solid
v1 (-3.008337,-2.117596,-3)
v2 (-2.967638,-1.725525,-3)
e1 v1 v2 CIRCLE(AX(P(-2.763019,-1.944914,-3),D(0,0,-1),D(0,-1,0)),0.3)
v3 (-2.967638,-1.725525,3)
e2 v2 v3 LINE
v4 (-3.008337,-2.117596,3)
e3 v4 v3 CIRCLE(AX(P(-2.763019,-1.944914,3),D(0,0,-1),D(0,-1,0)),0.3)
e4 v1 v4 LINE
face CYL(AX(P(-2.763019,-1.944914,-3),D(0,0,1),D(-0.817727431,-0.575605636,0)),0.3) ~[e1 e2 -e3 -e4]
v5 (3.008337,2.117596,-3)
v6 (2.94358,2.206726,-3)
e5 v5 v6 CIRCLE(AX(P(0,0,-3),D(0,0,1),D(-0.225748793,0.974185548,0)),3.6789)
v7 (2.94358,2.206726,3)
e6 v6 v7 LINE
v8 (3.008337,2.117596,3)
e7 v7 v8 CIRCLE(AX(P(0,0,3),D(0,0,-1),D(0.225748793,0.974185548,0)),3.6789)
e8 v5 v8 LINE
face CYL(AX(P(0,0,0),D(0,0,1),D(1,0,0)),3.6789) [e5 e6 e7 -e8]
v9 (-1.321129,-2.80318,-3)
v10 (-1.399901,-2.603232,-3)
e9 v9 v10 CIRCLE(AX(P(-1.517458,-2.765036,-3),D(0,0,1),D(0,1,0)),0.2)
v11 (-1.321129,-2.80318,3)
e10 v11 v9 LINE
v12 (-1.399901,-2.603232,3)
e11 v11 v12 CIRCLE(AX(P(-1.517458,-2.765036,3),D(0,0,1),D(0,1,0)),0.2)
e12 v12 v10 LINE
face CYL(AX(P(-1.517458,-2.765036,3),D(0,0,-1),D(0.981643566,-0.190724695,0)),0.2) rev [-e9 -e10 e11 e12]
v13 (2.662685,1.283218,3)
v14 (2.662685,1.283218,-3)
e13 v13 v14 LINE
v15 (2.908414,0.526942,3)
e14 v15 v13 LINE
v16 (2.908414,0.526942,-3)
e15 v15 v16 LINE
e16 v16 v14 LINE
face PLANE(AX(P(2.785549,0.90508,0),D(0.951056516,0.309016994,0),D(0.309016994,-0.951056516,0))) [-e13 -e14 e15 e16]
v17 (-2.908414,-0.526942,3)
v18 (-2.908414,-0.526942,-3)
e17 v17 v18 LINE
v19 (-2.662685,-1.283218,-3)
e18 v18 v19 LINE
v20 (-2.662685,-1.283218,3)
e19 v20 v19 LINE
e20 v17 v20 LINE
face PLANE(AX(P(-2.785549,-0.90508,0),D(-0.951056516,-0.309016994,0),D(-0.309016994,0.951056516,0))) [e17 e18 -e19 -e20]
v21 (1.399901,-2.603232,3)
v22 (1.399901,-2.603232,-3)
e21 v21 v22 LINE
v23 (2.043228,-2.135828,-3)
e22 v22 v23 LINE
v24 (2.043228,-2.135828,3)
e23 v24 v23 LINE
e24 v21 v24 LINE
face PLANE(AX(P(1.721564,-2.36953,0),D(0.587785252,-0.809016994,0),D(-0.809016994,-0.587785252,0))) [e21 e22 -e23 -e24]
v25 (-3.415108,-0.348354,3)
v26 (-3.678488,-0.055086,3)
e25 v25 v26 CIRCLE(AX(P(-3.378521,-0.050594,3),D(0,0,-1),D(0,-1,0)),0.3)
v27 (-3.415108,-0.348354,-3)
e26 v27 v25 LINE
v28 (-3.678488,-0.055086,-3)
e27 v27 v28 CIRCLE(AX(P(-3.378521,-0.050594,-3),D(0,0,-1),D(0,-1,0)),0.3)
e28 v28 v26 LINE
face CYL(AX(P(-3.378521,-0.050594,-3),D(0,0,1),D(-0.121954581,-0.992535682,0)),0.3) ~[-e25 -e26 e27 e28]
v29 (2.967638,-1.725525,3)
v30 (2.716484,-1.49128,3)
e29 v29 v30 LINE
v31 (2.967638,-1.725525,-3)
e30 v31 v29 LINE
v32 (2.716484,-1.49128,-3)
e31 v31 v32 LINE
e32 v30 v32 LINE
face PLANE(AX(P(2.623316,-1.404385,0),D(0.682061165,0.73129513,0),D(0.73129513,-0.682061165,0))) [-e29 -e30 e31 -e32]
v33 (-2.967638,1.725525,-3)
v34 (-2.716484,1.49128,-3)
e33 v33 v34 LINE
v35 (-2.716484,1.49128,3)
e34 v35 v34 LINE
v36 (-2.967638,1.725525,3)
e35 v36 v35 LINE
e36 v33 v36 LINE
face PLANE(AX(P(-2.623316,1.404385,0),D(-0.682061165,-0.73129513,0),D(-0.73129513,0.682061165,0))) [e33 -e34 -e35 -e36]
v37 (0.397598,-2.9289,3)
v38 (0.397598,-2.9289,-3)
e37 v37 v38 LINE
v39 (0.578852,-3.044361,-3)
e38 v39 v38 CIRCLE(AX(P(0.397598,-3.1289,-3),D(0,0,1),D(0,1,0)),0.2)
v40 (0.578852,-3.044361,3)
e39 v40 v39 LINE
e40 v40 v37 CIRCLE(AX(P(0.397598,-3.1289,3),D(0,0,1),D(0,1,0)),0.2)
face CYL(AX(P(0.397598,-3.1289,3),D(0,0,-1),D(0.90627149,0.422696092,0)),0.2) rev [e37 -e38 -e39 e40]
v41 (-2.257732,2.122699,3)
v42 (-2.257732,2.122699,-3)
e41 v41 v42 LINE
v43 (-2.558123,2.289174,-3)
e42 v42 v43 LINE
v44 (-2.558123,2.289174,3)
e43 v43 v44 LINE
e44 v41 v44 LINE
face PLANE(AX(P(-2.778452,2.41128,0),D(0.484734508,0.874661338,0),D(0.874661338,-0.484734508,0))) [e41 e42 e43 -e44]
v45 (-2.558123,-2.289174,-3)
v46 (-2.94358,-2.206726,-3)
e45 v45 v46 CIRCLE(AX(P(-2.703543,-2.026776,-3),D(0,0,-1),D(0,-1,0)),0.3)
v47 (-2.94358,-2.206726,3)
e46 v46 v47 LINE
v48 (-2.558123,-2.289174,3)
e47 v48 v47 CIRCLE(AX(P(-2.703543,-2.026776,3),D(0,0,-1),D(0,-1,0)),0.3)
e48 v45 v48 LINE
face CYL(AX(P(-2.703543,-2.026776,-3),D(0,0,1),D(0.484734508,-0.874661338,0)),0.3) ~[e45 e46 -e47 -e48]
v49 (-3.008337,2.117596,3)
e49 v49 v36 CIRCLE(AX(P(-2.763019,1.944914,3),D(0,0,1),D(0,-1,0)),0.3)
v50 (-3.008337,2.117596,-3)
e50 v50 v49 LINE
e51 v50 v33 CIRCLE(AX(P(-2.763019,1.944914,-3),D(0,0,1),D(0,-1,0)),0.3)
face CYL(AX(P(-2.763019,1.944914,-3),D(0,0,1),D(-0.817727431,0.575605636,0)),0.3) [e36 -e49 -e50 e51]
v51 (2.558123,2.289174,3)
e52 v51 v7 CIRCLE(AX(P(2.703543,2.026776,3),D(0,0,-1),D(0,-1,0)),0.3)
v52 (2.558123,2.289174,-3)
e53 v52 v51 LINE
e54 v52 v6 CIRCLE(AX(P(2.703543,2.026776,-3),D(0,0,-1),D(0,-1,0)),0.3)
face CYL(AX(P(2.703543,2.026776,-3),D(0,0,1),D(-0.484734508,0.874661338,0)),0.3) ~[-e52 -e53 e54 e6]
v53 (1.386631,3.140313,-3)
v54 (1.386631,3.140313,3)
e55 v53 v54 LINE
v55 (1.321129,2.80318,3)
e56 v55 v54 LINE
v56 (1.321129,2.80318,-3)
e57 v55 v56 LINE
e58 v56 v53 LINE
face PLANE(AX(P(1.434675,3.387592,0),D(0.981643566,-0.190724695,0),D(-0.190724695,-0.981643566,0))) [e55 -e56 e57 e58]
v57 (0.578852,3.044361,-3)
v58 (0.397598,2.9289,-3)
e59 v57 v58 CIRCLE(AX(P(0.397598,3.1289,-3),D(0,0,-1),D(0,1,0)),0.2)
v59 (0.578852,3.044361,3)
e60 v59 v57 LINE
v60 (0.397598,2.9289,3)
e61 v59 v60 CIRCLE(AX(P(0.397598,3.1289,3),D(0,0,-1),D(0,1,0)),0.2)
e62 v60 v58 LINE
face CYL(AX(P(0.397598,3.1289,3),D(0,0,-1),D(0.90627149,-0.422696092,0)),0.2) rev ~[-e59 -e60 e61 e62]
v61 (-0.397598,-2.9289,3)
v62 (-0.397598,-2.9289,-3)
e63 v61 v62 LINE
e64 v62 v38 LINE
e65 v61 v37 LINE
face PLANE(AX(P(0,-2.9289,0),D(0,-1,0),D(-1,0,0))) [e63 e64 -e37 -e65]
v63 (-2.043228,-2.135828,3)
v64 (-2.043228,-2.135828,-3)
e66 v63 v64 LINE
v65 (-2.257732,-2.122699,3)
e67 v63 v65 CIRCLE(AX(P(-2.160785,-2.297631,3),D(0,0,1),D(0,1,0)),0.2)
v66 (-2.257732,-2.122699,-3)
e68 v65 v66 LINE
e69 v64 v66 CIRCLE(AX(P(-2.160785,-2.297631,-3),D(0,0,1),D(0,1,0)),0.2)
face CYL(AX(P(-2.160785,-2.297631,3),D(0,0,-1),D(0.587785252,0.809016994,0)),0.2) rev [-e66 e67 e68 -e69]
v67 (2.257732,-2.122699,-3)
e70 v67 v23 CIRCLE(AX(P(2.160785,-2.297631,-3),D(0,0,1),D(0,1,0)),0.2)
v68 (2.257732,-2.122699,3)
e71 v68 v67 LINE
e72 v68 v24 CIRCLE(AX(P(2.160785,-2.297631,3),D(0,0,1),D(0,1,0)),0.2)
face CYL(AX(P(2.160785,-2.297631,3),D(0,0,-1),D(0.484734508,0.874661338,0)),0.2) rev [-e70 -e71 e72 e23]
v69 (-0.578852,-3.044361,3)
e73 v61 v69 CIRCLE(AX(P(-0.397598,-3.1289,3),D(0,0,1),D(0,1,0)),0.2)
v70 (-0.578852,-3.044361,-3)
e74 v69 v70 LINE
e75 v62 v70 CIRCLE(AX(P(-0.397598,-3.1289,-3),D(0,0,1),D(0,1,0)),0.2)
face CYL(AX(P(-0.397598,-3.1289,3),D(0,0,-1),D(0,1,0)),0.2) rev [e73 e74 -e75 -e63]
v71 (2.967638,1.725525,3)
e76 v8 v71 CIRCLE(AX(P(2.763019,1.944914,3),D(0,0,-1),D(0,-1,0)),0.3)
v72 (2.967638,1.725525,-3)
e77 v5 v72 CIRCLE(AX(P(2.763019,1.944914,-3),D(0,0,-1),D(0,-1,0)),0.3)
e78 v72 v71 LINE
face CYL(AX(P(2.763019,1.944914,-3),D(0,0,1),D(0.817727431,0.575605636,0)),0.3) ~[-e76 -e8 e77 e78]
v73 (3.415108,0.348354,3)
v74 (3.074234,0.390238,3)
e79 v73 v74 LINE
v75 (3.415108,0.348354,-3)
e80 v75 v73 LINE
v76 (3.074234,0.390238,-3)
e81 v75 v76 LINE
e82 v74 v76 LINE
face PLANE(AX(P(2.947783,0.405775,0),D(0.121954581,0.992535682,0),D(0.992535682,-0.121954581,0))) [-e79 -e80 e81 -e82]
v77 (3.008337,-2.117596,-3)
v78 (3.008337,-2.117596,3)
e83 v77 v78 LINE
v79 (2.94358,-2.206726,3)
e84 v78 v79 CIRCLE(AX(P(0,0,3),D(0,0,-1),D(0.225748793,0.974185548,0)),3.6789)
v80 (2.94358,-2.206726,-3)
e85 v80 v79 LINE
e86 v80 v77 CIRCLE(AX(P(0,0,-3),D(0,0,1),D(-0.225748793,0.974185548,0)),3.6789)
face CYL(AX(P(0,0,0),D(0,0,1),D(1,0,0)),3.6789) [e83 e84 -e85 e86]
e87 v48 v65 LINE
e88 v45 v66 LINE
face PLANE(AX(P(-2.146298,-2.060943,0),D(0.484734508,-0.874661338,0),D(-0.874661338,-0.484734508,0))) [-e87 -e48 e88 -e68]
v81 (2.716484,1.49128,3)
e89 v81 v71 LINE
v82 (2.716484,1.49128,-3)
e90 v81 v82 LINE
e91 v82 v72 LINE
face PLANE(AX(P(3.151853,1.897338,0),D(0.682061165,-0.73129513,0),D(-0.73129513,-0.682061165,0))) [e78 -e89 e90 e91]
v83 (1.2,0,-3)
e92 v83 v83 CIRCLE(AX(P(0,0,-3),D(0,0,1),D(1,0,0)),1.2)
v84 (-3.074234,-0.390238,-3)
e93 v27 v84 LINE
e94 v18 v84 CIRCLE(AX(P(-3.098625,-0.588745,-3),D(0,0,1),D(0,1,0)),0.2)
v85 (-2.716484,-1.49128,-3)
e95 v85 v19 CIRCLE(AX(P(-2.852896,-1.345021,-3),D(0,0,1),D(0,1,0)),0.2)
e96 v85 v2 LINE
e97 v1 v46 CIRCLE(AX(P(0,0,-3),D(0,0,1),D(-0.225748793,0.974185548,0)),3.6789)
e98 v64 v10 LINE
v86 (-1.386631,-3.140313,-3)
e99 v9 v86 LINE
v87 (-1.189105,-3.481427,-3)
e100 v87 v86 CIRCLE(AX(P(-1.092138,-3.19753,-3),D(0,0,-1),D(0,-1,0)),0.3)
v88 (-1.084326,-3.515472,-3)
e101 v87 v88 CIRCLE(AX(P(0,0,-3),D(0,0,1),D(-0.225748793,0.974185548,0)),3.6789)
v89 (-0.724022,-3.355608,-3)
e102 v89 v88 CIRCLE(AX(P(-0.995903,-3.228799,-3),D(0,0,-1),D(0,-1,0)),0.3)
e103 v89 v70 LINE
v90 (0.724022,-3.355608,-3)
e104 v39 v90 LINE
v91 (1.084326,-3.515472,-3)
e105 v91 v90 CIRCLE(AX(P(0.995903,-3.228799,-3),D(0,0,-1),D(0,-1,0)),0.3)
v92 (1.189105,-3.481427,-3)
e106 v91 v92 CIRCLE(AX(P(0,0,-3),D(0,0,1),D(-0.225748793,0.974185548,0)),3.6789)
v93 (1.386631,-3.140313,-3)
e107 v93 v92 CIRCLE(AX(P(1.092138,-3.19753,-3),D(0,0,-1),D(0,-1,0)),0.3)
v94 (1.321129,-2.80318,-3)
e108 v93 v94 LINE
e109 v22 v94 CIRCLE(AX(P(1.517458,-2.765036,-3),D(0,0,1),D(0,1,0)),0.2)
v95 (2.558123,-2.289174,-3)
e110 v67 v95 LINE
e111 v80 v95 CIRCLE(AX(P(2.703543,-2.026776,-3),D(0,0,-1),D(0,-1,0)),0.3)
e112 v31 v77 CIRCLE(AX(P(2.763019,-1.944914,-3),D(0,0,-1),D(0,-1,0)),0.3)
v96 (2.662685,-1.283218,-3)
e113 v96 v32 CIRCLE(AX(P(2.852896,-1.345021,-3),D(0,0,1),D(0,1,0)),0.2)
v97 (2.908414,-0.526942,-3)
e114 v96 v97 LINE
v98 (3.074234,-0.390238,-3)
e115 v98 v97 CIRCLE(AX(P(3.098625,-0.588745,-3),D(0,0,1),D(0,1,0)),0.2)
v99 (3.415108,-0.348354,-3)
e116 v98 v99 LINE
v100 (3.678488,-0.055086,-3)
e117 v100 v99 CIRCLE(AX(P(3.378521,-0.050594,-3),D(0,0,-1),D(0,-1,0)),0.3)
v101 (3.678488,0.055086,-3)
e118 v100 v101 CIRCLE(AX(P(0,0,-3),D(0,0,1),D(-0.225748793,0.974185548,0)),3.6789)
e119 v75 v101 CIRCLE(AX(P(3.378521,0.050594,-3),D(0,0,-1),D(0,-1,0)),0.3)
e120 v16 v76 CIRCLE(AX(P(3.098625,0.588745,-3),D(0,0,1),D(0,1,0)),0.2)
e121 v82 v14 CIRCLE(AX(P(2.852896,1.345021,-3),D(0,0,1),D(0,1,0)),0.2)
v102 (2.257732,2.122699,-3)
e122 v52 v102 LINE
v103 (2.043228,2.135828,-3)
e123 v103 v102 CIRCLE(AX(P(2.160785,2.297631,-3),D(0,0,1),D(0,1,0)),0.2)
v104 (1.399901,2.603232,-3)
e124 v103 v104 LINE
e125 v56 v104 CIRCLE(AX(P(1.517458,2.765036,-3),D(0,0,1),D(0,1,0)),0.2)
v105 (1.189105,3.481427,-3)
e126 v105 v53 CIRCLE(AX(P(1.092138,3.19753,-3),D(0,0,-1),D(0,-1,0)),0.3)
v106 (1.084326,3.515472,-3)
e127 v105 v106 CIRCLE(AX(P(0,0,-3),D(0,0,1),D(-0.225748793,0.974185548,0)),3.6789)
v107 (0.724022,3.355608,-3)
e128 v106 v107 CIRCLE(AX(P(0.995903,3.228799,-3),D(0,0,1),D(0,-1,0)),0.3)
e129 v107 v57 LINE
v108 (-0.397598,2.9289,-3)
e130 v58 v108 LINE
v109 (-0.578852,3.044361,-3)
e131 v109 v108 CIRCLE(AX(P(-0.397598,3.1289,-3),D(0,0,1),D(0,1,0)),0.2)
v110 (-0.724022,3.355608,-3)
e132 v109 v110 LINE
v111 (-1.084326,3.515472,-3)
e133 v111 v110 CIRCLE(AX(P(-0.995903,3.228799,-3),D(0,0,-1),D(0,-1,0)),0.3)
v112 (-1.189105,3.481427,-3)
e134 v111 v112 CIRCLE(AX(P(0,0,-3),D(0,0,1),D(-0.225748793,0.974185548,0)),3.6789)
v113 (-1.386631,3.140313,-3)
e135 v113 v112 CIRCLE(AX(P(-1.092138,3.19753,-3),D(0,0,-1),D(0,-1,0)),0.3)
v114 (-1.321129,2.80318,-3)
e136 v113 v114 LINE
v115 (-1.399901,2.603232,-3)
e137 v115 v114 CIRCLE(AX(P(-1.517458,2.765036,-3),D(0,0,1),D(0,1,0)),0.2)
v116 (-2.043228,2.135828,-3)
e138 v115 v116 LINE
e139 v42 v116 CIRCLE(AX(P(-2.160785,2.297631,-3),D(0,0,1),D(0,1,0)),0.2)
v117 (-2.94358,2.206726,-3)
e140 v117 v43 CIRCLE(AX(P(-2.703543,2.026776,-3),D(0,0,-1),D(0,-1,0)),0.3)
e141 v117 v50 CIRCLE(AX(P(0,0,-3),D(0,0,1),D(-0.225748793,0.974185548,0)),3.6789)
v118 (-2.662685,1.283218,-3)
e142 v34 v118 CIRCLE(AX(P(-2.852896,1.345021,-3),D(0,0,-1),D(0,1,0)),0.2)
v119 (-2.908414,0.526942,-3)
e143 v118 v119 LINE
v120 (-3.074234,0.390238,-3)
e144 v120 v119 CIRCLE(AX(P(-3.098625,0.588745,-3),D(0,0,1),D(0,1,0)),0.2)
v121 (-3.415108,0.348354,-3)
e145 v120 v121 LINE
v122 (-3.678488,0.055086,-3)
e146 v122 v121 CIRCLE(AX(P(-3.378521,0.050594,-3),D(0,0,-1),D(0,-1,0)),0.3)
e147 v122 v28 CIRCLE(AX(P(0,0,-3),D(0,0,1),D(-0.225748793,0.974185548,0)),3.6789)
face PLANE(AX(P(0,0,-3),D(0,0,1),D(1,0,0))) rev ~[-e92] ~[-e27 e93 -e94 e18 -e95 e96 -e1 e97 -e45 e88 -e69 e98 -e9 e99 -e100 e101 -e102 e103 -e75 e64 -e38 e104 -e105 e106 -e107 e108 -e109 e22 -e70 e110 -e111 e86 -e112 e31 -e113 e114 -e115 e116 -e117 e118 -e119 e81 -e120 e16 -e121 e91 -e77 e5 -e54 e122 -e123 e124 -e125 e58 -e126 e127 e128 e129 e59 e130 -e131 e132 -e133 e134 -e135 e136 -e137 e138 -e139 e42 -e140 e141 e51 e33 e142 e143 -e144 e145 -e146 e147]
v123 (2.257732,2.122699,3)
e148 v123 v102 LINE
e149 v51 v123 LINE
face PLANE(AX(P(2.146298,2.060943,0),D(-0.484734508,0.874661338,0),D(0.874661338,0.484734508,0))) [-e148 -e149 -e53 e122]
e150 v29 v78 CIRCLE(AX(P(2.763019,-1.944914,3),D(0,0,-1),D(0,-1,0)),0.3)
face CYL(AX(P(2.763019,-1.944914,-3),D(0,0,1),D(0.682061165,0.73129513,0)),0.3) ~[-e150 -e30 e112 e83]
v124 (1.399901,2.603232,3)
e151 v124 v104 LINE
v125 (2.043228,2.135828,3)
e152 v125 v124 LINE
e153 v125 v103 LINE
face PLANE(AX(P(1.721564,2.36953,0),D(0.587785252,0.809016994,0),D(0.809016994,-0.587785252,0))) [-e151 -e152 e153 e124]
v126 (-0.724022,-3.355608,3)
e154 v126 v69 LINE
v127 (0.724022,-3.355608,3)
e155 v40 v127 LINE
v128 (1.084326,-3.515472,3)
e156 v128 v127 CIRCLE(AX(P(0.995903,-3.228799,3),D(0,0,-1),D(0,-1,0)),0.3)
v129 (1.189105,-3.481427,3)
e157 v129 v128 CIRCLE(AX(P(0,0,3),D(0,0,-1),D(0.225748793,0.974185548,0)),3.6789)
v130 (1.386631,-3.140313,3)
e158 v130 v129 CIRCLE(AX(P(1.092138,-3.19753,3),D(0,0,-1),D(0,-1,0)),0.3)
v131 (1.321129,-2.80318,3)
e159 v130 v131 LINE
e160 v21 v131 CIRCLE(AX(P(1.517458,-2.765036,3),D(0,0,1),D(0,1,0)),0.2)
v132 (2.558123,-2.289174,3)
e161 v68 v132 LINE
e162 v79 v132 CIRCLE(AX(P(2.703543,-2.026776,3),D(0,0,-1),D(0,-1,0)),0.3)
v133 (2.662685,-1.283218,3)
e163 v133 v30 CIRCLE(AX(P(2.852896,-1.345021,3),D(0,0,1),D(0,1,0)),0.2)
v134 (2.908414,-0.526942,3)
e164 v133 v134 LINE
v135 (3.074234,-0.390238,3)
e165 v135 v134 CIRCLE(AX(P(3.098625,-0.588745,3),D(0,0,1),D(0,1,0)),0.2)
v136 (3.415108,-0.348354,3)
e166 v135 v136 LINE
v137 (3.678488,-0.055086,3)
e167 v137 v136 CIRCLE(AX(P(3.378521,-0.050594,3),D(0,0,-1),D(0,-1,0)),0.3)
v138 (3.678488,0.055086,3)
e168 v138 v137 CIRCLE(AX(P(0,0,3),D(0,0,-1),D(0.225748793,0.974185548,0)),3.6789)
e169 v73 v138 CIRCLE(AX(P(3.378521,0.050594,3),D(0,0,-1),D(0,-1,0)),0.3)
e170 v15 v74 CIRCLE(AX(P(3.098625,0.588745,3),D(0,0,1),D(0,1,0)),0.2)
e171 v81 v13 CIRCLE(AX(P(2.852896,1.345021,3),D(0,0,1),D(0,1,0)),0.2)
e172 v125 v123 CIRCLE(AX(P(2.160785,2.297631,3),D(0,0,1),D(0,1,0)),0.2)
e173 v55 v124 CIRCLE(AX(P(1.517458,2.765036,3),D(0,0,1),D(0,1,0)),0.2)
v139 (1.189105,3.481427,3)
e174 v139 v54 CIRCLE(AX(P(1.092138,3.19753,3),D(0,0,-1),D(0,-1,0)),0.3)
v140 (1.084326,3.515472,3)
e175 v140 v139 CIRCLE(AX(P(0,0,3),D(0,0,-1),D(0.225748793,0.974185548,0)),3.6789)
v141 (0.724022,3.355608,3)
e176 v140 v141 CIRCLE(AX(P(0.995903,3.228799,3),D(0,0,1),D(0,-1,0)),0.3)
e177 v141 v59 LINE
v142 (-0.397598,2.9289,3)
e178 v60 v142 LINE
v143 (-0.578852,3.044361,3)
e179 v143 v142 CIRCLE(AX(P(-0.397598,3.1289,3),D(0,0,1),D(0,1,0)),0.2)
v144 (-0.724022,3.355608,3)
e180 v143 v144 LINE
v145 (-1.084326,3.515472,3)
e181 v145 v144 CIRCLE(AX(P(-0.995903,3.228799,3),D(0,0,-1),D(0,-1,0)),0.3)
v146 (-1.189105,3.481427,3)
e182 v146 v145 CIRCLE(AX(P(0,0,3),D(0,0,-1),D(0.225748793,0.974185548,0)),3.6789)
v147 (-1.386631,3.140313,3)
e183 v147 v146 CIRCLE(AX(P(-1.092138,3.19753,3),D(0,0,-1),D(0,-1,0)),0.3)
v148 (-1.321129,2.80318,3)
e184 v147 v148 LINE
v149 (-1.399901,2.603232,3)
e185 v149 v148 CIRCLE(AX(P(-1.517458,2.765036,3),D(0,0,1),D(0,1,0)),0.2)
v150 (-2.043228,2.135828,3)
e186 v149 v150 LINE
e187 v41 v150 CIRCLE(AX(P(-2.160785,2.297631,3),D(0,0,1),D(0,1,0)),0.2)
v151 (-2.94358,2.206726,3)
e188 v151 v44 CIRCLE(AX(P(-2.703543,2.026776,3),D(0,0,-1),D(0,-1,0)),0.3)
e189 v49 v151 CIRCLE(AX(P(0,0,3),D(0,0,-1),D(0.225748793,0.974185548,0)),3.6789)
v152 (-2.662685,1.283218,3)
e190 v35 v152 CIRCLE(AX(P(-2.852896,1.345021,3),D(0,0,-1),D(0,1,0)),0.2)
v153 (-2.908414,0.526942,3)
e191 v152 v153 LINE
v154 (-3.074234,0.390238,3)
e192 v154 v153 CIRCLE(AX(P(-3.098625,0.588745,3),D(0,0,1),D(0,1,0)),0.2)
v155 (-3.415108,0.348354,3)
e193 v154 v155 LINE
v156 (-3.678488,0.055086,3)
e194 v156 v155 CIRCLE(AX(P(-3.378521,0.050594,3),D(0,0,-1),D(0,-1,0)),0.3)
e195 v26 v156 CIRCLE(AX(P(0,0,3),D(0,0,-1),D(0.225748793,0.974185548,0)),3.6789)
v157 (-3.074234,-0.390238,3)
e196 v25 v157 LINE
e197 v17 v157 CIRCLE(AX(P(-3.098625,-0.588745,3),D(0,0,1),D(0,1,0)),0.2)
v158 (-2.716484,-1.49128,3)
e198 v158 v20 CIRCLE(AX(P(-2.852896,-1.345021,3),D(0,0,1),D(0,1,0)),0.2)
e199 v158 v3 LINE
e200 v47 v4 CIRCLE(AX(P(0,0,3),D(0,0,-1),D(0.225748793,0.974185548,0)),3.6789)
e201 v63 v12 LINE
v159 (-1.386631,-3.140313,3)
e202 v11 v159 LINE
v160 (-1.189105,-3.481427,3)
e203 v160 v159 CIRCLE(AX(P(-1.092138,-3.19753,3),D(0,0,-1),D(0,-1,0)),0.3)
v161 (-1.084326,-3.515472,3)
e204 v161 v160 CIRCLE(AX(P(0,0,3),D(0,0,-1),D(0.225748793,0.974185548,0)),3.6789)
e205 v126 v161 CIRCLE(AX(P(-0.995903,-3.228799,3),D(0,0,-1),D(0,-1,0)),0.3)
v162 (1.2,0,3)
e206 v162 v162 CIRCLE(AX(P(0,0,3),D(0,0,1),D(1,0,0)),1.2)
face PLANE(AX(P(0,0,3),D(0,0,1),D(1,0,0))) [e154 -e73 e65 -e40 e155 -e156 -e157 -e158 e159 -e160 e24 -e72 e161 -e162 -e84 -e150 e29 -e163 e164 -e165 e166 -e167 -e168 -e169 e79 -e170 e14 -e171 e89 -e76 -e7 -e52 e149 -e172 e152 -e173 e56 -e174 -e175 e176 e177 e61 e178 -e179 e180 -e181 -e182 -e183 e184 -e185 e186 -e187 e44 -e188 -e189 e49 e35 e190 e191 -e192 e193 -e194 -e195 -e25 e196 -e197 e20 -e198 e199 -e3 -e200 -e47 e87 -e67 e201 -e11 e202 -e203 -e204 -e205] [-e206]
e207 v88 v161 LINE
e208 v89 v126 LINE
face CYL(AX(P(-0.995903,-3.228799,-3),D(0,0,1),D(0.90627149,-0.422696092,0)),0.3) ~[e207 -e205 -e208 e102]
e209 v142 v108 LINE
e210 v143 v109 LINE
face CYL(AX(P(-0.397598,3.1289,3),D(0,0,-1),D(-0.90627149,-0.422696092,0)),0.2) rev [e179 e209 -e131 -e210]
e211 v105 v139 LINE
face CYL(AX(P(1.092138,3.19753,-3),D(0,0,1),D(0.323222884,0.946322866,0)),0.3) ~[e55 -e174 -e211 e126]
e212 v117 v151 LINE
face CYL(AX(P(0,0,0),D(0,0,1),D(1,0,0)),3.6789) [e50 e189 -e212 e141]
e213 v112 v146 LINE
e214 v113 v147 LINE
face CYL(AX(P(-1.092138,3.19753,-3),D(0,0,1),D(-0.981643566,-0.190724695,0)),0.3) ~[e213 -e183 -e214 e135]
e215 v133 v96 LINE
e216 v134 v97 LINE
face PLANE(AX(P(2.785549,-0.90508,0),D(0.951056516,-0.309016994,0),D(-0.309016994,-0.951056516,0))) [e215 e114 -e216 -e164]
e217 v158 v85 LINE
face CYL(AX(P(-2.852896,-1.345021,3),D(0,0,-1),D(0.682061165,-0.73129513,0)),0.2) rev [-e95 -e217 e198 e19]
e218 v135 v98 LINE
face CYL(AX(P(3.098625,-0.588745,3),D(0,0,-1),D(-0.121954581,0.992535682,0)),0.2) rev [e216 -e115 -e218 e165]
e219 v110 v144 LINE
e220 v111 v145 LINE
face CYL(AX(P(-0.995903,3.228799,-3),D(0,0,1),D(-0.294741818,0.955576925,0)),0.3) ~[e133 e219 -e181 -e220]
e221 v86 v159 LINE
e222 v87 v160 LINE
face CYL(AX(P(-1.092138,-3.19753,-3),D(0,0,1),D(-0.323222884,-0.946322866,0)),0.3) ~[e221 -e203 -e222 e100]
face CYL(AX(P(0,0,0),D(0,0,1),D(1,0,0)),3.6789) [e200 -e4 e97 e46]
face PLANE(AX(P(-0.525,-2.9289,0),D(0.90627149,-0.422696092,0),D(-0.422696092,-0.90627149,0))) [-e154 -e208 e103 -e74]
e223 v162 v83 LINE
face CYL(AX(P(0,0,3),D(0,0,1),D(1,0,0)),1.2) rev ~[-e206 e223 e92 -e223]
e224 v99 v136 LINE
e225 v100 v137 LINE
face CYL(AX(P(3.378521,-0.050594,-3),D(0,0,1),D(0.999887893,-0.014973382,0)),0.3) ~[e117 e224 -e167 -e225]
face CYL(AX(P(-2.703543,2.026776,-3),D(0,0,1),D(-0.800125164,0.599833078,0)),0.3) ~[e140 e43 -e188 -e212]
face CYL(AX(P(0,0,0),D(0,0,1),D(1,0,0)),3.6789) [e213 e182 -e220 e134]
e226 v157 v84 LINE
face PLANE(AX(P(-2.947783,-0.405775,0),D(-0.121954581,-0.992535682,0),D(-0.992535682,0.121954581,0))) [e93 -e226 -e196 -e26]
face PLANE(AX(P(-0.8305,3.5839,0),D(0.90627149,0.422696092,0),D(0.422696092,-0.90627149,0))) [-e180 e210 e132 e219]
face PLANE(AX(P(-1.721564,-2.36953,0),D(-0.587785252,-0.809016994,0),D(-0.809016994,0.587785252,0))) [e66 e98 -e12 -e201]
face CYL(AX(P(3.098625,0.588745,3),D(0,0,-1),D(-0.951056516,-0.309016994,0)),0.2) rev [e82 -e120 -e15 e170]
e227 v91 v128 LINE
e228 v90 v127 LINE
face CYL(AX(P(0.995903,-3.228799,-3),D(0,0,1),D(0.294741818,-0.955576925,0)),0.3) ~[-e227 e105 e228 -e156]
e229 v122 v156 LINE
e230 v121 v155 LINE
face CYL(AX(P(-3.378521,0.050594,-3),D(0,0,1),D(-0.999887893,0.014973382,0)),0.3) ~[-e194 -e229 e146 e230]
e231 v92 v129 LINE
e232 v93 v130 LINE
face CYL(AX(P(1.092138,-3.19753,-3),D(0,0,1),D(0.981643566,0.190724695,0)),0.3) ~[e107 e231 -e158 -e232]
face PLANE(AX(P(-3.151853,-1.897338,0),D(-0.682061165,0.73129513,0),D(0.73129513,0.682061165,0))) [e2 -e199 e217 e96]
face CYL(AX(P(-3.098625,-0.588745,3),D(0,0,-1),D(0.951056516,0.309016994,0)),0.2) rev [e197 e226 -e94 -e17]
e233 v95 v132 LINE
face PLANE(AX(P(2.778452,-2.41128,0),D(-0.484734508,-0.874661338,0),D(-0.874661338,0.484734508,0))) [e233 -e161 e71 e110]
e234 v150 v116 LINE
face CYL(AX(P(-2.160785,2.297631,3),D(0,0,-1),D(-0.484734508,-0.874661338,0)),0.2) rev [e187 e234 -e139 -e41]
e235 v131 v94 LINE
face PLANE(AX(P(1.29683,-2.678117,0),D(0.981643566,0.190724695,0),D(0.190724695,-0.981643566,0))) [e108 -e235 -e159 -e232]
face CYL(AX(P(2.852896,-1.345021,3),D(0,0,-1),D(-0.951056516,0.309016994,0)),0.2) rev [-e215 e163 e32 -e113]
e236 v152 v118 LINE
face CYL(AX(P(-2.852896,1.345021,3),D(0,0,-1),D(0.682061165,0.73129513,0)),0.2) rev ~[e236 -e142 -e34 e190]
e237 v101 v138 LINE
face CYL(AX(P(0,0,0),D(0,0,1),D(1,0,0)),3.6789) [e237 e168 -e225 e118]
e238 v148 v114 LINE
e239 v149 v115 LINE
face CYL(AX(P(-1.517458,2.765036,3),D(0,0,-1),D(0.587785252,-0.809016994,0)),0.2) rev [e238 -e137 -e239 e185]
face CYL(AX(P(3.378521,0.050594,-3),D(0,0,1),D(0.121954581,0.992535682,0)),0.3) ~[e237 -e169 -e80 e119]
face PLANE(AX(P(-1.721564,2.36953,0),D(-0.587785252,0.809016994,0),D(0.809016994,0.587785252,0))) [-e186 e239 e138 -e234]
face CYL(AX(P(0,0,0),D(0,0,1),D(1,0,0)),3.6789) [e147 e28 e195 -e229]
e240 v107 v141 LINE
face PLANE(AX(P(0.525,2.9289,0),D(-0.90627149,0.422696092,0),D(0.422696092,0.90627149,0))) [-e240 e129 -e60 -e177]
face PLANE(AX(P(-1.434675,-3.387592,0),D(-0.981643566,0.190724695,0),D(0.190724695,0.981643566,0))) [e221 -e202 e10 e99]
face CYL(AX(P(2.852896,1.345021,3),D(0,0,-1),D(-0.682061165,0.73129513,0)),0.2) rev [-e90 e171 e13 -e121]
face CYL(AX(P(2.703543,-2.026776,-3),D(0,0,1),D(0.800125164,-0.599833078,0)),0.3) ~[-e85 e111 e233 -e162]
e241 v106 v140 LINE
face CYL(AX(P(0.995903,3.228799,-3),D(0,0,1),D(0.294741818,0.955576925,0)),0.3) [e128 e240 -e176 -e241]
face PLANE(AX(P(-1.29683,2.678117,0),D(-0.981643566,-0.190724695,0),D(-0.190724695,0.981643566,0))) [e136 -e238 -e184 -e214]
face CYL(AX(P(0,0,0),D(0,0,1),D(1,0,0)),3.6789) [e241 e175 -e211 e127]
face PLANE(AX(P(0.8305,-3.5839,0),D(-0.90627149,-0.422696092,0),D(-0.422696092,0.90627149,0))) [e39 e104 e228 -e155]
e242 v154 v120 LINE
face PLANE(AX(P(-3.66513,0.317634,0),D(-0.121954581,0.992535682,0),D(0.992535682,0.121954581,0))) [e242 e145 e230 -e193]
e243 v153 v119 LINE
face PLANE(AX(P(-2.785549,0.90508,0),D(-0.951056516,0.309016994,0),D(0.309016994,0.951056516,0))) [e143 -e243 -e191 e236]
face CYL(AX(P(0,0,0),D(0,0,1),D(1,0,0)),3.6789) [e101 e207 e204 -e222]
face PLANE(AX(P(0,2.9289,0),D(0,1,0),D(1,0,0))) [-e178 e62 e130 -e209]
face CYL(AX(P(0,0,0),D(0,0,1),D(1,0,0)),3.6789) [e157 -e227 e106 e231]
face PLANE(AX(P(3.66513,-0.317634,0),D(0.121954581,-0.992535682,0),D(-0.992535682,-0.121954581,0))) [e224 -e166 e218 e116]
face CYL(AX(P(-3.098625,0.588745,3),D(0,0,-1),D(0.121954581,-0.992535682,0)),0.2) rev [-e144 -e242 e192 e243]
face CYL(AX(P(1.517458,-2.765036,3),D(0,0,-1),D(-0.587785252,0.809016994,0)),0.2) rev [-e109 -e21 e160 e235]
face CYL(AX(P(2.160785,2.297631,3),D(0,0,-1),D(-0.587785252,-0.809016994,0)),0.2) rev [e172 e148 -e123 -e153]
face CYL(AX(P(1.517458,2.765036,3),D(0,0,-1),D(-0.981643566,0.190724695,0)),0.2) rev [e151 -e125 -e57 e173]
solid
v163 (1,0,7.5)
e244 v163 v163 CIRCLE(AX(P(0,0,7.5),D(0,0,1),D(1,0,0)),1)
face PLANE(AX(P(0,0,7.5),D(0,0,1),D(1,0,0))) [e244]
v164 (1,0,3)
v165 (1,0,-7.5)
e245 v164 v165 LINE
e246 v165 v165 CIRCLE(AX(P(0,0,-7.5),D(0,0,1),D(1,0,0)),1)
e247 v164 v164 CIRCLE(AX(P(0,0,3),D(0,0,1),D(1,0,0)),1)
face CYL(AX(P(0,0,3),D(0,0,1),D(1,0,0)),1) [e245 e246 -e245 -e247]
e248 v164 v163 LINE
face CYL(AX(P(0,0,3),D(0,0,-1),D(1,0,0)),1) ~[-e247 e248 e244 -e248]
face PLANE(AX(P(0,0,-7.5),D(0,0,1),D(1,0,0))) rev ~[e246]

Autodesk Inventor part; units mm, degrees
ref_plane "YZ Plane" through (0, 0, 0) normal (1, 0, 0) x (0, 1, 0)
ref_plane "XZ Plane" through (0, 0, 0) normal (0, 1, 0) x (-1, 0, 0)
ref_plane "XY Plane" through (0, 0, 0) normal (0, 0, 1) x (1, 0, 0)
sketch "Riemenscheibenskizze" plane through (0, 0, 0) normal (0, 0, 1) x (1, 0, 0)
  circle A0 centre (0, 0) radius 3.9789 construction
  circle A1 centre (0, 0) radius 3.6789
  circle A2 centre (0, 0) radius 2.9289
  line L0 (-0.8305, 3.5839) -> (-0.525, 2.9289)
  line L1 (-0.525, 2.9289) -> (0.525, 2.9289)
  line L2 (0.525, 2.9289) -> (0.8305, 3.5839)
  line L3 (0, 0) -> (0, 3.6789) construction
  point P0 (0, 2.9289)
  dimension "d0" = 7.9577
  dimension "d1" = 0.3
  dimension "d2" = 0.75
  dimension "d3" = 50
  dimension "d4" = 1.05
extrude "Grundkörper" add sketch "Riemenscheibenskizze" along normal mid plane 6 contours A2 | A1 L0 L1 L2 | L2 L1 L0 A1
extrude "Zahn" cut sketch "Riemenscheibenskizze" along normal through all both and the other way through all contours L2 L1 L0 A1 picked at (0, 3.4218)
fillet "Fillet" radius 0.2 2 edges at (0.525, 2.9289, 0) (-0.525, 2.9289, 0)
fillet "Fillet" radius 0.3 4 edges at (-0.8305, 3.5839, 1.5) (-0.8305, 3.5839, -1.5) (0.8305, 3.5839, 1.5) (0.8305, 3.5839, -1.5)
pattern_circular "Zähne" count 10 over 360 about axis through (0, 0, -10) along (0, 0, 1) of "Zahn", "Fillet"
feature "Flansch links" [suppressed]
feature "Flansch rechts" [suppressed]
sketch "Skizze2" plane through (0, 0, 3) normal (0, 0, 1) x (1, 0, 0)
  circle A0 centre (0, 0) radius 1
  circle A1 centre (0, 0) radius 1.2
  dimension "d17" = 2
  dimension "d22" = 2.4
extrude "Extrusion3" add sketch "Skizze2" along normal blind 4.5 and the other way blind 10.5 separate body contours A0
extrude "Extrusion4" cut sketch "Skizze2" against normal through all contours A0 | A1 bodies 1
equation "\"d1\" = da_a"
equation "\"d2\" = da_hg"
equation "\"d3\" = 2 * da_fi"
equation "\"d4\" = da_bw"
equation "\"d5\" = da_bf"
equation "\"d7\" = da_bf"
equation "\"d9\" = da_rb"
equation "\"d10\" = da_rt"
equation "\"da_pb\" = 2.5"
equation "\"da_fi\" = 25deg"
equation "\"da_hg\" = 0.75"
equation "\"da_bw\" = 1.05"
equation "\"da_rb\" = 0.2"
equation "\"da_rt\" = 0.3"
equation "\"da_a\" = 0.3"
equation "\"da_bf\" = 6"
equation "\"da_wf\" = 0.8"
equation "\"da_hf\" = 0.8"
properties part number "Synchrone Riemenscheibe2" material "Steel"
